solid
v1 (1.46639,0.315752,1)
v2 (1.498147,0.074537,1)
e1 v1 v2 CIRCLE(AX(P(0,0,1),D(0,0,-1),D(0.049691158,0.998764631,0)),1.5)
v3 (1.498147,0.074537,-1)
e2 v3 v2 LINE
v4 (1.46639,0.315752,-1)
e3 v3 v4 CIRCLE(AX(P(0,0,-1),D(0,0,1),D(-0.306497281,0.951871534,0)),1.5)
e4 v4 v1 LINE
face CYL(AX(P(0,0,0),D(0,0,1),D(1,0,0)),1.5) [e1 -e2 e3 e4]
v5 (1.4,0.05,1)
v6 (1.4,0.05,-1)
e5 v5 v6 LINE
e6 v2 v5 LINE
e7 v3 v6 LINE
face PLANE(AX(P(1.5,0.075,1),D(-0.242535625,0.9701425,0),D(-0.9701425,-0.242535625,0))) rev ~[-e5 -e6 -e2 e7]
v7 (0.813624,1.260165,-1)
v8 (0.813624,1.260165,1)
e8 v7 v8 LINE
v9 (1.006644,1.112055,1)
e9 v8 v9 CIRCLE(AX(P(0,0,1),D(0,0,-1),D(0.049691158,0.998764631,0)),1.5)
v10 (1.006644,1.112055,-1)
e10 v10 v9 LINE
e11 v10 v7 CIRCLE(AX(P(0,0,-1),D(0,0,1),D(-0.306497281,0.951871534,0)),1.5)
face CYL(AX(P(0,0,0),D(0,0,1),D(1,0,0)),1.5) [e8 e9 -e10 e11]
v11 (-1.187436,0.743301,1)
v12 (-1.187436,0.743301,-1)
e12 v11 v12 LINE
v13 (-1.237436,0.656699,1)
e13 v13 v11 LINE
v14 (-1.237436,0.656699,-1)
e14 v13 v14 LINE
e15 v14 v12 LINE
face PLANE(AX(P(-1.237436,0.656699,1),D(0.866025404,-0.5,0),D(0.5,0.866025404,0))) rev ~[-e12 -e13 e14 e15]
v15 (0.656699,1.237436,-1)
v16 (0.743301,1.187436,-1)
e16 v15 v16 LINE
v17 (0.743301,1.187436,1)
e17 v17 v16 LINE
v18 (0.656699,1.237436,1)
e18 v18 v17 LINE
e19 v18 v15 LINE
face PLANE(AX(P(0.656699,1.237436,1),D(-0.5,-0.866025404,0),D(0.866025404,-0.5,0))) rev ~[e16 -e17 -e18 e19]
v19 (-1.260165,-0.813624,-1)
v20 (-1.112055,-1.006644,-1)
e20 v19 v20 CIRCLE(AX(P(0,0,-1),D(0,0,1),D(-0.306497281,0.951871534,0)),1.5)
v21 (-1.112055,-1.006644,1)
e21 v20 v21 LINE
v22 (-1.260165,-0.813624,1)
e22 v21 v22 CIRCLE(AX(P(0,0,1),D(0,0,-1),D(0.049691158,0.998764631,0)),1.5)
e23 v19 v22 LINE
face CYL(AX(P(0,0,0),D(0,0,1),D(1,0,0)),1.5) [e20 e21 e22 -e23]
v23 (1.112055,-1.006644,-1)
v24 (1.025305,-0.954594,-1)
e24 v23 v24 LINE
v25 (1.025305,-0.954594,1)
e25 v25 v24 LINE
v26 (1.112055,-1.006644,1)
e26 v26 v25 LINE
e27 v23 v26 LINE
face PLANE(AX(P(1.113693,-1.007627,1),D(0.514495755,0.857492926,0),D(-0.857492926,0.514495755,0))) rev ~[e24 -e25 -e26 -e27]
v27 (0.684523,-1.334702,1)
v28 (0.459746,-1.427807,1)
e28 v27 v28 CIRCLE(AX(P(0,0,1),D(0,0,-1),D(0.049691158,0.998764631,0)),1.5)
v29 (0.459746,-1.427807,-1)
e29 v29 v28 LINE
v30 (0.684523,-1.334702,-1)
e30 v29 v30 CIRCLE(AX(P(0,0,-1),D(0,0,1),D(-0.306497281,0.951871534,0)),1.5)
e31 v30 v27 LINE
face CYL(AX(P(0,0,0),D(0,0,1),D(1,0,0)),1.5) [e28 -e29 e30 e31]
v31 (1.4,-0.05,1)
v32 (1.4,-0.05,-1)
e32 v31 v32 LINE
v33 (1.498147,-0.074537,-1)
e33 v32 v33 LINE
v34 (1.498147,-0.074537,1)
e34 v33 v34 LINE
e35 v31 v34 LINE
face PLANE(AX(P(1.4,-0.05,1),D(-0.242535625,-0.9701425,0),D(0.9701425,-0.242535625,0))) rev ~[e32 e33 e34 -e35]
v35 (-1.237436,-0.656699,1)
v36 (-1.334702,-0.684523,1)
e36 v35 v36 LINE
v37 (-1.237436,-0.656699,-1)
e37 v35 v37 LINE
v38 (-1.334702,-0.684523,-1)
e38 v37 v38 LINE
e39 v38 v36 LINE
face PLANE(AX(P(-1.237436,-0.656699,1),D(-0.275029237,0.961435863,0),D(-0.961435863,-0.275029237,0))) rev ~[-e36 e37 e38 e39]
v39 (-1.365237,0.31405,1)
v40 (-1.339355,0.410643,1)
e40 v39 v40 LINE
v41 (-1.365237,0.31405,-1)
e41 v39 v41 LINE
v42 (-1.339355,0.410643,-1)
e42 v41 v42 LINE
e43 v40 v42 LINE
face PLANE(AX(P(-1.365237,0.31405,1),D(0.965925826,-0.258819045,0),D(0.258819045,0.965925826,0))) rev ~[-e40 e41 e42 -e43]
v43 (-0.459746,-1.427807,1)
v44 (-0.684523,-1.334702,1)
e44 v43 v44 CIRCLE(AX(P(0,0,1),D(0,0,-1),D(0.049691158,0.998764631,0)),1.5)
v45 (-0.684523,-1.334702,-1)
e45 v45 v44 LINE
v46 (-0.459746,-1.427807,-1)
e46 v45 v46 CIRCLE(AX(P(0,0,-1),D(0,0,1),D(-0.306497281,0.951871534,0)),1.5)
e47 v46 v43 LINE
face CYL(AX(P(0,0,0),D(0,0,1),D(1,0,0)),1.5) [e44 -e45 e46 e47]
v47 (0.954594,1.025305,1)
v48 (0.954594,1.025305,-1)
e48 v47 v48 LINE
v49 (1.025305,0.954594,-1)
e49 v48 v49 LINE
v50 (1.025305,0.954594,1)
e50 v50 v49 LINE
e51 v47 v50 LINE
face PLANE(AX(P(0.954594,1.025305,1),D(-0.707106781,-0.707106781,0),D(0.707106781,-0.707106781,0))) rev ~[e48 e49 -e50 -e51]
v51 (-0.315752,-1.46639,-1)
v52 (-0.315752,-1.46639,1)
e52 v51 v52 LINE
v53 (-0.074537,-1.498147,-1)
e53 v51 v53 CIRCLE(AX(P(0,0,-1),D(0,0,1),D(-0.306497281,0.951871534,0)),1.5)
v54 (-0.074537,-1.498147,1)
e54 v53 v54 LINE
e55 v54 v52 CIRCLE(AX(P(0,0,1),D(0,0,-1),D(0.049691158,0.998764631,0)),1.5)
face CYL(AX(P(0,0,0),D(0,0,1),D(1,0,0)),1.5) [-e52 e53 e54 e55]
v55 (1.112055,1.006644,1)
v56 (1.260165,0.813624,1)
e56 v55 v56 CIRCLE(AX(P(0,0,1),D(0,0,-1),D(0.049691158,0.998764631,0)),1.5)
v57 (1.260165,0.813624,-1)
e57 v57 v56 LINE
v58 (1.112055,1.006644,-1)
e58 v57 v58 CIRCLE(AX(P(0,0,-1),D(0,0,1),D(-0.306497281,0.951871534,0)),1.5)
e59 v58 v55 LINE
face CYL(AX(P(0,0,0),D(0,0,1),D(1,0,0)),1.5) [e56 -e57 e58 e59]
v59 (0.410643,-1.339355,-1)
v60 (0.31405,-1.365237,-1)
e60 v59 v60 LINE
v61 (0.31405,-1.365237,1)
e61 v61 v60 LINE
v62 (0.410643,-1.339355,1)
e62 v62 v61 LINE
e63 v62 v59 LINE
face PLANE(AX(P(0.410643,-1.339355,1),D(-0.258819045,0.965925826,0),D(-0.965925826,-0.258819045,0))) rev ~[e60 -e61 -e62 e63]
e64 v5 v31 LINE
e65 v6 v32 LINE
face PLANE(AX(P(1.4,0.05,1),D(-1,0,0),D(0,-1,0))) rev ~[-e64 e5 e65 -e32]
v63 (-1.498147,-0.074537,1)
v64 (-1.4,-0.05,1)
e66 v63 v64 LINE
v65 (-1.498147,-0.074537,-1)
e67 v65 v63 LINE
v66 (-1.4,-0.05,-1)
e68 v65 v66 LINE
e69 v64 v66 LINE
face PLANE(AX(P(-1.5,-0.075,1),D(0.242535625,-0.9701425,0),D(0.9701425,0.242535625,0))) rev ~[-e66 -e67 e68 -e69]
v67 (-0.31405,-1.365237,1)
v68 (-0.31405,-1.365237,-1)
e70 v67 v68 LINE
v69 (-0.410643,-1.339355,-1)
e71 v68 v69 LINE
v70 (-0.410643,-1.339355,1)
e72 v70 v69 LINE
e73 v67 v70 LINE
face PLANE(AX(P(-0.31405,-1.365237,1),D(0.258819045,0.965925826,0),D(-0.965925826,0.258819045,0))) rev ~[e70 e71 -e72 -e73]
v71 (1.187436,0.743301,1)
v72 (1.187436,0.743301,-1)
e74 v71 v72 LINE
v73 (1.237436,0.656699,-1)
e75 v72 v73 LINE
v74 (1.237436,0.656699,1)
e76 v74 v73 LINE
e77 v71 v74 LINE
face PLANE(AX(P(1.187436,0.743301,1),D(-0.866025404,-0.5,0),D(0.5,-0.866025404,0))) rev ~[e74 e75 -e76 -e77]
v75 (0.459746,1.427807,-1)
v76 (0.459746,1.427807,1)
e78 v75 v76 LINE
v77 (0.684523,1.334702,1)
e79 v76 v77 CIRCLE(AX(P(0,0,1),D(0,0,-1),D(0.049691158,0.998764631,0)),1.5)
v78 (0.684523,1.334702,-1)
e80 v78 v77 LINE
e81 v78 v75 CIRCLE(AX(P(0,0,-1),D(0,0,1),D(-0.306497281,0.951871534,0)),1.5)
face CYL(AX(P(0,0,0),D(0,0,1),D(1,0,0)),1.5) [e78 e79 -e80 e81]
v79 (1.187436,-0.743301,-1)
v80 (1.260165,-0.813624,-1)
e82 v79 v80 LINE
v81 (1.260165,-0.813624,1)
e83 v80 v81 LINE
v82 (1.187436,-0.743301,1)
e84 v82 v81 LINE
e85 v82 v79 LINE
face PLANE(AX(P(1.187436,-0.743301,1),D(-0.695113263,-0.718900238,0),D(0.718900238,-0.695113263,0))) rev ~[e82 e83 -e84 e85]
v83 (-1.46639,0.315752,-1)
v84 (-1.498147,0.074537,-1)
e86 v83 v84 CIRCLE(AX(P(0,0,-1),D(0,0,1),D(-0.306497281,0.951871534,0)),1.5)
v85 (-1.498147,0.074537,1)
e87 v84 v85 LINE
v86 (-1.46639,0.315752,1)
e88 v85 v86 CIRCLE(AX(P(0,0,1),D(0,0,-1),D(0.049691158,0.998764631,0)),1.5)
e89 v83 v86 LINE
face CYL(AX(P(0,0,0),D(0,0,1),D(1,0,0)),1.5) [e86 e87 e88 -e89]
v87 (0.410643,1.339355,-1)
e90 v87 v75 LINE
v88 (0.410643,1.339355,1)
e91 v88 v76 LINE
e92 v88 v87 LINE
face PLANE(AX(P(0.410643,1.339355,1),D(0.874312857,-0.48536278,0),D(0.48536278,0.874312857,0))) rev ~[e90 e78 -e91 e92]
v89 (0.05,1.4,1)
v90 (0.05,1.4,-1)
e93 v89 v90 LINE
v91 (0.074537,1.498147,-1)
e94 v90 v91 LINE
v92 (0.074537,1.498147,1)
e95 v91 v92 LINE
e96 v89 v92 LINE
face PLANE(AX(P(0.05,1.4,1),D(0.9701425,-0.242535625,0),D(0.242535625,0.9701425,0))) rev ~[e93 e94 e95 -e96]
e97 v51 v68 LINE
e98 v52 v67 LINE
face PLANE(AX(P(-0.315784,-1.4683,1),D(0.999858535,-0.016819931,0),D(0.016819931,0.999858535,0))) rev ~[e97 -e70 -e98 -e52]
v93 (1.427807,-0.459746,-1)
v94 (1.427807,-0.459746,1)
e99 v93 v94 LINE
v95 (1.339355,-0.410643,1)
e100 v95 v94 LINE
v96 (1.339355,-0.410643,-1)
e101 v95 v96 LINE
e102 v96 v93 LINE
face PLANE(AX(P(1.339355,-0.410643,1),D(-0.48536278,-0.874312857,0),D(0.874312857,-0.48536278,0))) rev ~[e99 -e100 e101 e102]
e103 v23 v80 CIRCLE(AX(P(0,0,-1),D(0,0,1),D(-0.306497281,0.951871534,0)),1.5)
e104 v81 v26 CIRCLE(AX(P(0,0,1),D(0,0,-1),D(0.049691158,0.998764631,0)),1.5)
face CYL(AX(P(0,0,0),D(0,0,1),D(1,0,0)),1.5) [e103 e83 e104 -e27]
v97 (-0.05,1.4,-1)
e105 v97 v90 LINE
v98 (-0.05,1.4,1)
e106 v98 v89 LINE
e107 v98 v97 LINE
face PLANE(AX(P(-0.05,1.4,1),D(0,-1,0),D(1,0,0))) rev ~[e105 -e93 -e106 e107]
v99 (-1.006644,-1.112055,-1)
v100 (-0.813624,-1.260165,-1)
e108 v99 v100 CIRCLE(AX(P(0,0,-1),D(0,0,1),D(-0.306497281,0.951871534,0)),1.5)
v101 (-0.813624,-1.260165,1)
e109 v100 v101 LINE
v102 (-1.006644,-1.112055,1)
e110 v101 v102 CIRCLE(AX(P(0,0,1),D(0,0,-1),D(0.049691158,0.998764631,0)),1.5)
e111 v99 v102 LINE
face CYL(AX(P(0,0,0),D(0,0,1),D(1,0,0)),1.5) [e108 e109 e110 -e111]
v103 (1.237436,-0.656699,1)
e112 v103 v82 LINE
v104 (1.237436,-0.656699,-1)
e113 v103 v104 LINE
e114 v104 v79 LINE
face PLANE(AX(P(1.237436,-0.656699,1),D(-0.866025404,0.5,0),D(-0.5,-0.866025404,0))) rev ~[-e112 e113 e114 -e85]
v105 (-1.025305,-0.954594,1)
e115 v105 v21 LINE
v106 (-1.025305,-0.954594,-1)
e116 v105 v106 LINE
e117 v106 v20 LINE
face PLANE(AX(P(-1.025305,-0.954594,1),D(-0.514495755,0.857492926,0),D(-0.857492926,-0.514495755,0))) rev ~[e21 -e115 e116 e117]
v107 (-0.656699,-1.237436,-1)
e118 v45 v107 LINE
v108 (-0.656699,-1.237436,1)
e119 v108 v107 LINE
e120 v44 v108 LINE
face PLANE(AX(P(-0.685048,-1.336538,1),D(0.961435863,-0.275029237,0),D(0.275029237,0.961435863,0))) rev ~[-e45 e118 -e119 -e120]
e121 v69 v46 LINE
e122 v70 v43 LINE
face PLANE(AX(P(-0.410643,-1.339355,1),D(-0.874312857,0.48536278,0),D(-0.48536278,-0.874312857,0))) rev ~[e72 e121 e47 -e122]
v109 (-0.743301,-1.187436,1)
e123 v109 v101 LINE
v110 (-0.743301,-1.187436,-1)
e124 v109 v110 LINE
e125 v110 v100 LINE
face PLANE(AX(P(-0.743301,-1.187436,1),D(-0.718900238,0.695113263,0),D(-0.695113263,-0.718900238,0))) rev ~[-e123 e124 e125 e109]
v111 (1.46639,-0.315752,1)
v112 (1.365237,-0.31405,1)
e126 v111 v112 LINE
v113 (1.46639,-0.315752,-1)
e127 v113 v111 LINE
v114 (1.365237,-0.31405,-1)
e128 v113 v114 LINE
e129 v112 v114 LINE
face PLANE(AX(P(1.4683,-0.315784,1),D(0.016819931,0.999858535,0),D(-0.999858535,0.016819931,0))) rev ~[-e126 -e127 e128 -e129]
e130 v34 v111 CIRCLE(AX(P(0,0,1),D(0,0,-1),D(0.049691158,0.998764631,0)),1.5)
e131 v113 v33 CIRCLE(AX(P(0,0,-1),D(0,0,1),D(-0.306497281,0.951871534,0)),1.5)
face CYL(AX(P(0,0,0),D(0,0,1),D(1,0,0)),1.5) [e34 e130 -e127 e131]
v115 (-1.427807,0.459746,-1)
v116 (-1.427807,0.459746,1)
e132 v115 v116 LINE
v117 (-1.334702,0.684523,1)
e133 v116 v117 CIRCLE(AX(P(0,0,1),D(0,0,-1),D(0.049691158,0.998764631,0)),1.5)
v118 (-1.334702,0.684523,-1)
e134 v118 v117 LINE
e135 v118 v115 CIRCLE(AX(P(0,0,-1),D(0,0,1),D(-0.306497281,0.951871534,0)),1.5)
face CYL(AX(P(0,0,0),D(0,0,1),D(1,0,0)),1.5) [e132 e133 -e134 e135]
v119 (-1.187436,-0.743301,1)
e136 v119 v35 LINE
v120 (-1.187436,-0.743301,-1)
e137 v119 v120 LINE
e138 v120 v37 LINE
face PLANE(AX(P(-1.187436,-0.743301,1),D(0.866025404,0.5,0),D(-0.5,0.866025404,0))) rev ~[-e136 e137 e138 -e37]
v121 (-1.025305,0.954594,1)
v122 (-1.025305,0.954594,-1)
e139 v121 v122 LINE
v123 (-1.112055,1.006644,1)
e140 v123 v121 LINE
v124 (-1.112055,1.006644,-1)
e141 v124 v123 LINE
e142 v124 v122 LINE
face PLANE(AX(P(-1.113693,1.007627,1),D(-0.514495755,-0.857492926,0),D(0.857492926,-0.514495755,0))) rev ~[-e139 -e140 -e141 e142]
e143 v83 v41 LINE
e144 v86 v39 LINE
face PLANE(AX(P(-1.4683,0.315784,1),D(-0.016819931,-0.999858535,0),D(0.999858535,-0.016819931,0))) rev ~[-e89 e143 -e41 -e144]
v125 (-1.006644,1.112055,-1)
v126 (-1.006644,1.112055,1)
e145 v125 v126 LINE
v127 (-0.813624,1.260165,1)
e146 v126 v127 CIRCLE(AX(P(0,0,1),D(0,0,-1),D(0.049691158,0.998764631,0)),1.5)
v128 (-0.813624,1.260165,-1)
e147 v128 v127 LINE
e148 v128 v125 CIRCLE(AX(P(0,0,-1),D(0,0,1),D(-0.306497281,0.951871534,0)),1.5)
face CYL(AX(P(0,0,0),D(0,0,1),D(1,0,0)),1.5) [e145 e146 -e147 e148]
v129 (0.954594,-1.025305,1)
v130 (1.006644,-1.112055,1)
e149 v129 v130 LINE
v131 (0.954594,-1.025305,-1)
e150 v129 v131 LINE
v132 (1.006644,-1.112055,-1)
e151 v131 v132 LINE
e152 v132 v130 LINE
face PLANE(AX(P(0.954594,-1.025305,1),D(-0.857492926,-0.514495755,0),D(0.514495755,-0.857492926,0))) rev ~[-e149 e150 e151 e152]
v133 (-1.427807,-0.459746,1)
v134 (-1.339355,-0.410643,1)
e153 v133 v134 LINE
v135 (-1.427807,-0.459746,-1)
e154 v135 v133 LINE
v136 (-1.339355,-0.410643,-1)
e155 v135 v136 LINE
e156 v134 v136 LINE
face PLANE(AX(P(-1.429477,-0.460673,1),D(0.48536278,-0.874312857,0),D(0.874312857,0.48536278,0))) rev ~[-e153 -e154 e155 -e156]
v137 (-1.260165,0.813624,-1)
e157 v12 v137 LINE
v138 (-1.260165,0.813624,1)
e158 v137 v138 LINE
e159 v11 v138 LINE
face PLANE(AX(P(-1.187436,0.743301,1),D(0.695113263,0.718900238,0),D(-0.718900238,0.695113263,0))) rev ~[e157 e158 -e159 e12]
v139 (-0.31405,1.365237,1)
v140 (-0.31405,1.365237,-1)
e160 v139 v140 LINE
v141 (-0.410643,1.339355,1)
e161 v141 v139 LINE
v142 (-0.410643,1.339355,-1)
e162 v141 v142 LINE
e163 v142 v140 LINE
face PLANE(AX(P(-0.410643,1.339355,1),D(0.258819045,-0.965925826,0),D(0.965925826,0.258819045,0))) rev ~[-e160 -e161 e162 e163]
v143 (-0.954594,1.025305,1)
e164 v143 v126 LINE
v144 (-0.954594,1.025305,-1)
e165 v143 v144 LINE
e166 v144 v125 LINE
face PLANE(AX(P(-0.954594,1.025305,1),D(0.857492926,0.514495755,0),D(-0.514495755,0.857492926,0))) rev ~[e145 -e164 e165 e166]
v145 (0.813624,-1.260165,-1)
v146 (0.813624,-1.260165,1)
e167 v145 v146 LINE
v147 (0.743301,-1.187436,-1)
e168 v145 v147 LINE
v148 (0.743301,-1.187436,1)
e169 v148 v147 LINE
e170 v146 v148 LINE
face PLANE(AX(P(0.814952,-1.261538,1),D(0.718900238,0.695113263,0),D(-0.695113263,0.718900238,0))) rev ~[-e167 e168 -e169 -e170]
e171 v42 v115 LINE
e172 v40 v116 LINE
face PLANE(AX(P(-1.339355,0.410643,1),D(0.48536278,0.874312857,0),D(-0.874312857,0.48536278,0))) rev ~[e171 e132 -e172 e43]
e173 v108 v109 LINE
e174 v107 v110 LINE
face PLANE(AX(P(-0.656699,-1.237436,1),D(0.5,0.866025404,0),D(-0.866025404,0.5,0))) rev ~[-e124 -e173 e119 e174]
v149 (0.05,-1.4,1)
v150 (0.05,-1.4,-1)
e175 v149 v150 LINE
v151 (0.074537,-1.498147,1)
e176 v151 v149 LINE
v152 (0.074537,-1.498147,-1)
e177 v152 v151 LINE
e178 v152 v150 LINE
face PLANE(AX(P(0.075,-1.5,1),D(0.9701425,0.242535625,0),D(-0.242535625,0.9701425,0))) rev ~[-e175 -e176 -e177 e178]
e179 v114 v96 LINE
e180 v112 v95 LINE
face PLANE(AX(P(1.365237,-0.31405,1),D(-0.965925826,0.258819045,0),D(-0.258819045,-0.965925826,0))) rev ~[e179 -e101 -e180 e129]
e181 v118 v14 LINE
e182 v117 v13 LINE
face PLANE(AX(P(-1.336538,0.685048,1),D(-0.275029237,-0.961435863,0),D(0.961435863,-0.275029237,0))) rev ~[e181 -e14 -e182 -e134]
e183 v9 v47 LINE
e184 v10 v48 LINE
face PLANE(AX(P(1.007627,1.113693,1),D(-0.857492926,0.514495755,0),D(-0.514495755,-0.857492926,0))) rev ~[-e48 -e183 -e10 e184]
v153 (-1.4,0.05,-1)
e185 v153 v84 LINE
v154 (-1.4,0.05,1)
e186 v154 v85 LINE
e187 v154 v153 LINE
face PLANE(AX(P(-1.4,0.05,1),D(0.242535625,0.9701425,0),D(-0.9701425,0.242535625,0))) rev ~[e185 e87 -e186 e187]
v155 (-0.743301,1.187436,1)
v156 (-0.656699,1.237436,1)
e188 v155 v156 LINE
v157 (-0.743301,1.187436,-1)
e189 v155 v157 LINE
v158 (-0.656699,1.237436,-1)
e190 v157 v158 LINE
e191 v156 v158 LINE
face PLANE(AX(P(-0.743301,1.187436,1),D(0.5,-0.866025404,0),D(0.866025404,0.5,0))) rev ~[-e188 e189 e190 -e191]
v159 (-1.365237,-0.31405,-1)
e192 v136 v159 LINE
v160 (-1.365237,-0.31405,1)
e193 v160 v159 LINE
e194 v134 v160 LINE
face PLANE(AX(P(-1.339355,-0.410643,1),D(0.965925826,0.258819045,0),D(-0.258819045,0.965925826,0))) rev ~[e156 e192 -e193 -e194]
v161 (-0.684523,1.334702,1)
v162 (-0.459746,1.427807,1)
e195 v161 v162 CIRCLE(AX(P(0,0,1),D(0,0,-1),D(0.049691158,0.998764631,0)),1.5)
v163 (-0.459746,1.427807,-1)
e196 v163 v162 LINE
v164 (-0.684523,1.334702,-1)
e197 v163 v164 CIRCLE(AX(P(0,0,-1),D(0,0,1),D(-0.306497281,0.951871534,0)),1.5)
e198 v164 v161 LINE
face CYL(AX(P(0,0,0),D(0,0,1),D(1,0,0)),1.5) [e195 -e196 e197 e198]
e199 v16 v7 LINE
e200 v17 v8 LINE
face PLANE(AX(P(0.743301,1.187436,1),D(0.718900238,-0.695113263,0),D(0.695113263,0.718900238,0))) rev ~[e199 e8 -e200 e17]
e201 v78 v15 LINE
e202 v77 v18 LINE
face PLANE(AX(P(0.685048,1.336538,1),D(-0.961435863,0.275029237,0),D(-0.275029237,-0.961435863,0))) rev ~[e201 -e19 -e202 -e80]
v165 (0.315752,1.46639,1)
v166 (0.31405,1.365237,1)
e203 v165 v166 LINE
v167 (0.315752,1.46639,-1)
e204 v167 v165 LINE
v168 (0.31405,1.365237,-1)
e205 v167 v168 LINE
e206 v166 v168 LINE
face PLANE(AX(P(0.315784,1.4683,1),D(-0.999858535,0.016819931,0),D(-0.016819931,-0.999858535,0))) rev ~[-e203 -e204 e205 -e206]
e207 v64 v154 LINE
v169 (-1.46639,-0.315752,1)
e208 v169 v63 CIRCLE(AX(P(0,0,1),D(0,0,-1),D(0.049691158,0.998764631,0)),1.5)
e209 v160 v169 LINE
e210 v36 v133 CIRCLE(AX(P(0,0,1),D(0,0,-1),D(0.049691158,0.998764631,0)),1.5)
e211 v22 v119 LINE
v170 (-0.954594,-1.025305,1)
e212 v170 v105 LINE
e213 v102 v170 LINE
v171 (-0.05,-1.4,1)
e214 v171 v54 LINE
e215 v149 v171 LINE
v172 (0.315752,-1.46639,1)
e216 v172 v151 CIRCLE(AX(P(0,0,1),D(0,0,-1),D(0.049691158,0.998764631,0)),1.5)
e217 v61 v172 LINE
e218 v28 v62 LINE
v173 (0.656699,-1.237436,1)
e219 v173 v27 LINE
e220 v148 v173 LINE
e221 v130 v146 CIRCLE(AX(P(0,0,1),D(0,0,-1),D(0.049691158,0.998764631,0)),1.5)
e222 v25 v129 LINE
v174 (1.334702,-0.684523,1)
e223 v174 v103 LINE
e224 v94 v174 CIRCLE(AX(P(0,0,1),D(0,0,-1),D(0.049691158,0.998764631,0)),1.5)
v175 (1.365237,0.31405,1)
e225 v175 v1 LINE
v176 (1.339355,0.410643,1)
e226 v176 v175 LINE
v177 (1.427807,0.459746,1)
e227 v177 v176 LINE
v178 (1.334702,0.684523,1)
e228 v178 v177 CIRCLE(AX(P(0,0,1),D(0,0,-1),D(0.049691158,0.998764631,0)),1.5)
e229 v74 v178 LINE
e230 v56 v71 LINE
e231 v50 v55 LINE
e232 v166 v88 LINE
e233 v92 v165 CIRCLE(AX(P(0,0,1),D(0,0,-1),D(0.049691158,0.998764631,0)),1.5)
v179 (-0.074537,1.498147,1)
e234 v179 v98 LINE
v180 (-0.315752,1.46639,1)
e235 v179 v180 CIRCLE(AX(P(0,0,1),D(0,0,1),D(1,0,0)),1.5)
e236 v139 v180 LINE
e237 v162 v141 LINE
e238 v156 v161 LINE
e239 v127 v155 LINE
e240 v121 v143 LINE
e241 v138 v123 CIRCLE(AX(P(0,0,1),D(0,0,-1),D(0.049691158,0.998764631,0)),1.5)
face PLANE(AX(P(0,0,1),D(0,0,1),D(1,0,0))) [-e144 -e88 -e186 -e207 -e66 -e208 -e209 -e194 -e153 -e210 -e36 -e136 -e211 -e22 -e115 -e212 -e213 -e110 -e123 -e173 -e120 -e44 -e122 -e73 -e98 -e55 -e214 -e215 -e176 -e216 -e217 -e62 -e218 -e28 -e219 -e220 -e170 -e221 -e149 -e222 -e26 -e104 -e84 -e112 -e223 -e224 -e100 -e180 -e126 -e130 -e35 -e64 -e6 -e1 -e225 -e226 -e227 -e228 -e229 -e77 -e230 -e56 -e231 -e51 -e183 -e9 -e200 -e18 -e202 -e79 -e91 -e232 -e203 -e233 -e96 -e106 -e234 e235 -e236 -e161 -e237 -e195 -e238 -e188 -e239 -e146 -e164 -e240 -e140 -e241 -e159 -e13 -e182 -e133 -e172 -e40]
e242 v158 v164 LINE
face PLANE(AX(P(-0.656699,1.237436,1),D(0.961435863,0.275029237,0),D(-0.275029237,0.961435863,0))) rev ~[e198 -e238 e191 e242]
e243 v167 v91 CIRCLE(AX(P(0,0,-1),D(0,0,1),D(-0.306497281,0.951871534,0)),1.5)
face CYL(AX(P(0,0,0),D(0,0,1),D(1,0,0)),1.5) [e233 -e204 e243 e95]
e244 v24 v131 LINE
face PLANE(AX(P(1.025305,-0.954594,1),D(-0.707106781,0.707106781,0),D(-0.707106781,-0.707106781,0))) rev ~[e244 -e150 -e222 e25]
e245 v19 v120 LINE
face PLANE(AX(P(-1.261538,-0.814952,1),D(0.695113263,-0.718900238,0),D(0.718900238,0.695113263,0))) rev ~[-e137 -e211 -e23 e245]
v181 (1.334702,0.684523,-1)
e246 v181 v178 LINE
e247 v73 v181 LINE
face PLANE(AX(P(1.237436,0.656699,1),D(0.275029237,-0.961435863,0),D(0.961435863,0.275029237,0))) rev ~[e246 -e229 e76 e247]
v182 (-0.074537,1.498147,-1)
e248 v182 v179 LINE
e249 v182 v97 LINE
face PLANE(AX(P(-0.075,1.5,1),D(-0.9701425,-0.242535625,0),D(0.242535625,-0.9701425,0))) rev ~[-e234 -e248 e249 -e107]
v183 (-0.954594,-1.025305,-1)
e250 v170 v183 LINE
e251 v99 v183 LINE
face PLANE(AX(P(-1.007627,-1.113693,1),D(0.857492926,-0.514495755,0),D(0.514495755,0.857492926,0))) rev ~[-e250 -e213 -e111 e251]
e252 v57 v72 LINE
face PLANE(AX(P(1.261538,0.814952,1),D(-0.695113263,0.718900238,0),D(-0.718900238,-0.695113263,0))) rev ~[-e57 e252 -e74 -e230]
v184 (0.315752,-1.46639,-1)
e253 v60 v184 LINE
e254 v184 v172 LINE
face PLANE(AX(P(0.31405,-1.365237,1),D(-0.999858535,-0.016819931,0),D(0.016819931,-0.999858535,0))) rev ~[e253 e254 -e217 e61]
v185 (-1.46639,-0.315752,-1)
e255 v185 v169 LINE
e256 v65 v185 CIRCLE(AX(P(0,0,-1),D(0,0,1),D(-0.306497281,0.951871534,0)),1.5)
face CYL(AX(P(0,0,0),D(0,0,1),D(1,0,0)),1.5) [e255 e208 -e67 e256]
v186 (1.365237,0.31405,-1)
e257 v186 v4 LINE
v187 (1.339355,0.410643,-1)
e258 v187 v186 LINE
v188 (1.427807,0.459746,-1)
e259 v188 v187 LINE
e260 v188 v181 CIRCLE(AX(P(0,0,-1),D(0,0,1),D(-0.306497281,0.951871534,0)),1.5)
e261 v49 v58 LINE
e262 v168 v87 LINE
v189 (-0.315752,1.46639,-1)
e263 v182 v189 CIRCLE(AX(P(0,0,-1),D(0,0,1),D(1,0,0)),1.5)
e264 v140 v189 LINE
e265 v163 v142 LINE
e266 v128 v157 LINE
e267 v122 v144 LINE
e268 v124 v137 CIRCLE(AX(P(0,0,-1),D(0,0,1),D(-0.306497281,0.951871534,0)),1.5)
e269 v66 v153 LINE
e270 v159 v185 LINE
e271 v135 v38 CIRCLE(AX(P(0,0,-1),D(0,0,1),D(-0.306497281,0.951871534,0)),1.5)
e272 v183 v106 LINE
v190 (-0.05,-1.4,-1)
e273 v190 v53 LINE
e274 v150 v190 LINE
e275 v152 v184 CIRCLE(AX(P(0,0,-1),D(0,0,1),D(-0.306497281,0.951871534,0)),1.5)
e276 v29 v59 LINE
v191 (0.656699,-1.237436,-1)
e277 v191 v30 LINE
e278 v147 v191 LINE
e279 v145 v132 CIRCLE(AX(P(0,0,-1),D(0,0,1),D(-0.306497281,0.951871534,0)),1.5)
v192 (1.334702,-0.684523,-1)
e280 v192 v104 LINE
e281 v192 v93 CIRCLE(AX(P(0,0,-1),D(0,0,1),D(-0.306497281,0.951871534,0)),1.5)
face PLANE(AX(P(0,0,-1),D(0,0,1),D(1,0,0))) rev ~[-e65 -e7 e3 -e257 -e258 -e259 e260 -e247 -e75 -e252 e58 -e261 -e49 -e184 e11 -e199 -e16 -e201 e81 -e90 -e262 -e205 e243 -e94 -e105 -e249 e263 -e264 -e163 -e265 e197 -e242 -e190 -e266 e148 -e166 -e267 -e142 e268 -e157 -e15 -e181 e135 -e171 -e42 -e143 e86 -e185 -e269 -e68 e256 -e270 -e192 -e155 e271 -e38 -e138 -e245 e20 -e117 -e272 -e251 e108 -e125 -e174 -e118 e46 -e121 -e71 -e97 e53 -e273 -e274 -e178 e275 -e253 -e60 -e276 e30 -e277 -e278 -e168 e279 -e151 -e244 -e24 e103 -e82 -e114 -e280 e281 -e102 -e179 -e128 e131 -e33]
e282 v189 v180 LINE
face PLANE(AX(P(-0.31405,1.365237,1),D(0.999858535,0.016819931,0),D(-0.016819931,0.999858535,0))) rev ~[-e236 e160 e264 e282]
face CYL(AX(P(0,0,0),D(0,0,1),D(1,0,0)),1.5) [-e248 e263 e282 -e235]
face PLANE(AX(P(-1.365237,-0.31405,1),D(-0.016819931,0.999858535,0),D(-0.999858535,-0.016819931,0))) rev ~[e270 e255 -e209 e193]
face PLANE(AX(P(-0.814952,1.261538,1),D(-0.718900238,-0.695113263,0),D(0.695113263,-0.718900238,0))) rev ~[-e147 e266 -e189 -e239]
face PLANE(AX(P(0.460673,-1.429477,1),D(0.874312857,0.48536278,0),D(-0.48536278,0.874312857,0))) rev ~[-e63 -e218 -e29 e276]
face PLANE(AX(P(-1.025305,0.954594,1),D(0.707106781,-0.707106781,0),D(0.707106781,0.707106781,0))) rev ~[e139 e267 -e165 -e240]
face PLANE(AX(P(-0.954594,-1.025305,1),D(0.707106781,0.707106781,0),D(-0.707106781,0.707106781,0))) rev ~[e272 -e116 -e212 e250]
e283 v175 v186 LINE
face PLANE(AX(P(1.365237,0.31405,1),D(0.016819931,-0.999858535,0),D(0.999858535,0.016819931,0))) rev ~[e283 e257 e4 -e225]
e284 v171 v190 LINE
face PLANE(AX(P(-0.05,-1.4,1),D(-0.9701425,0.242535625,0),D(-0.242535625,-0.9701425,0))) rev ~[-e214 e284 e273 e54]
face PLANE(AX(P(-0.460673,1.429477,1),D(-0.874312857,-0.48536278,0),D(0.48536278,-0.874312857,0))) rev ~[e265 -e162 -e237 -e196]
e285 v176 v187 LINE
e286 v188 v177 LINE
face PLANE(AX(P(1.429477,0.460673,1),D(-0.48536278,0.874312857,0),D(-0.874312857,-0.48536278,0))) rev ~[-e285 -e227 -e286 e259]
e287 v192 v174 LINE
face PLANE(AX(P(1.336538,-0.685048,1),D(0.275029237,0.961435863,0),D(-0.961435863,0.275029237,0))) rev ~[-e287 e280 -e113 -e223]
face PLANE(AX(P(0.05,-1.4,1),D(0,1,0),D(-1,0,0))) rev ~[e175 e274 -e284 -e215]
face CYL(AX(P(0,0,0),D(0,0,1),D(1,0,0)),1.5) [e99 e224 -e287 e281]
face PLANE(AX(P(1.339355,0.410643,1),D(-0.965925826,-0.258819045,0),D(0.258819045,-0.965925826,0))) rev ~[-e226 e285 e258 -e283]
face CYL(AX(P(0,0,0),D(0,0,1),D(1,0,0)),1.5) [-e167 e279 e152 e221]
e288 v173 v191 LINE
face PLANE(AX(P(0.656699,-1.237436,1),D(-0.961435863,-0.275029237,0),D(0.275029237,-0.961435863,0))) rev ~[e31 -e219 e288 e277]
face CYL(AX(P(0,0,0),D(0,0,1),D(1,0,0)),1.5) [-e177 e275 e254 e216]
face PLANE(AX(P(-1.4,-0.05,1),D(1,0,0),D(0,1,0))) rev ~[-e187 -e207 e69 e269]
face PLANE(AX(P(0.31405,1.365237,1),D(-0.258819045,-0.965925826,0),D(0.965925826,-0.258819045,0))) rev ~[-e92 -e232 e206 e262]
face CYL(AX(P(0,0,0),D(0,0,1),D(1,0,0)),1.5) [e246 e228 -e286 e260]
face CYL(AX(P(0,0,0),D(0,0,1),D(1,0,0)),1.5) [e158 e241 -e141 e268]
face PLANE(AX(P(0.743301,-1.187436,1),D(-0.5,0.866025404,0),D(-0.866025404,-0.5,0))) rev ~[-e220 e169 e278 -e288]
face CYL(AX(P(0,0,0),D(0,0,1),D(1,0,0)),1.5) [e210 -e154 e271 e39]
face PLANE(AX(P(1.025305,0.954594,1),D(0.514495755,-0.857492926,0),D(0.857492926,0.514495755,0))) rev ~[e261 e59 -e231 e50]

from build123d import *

# Parameters (mm, degrees)
SKETCH_1_R               = 1.5
EXTRUDE_1_DEPTH          = 1
CUT_EXTRUDE_1_DEPTH      = 4
PATTERN_CIRCULAR_1_COUNT = 24


with BuildPart() as part:
    # 草图1 → 凸台-拉伸1 (new, symmetric)
    with BuildSketch(Plane.XY):
        Circle(SKETCH_1_R)
    extrude(amount=EXTRUDE_1_DEPTH, both=True)

    # 草图2 → 切除-拉伸1 (cut)
    with BuildSketch(Plane.XY.offset(1)):
        Polygon((-0.075, 1.5), (-0.05, 1.4), (0.05, 1.4), (0.075, 1.5), align=None)
    cut_extrude_1 = extrude(amount=-CUT_EXTRUDE_1_DEPTH, mode=Mode.SUBTRACT)

    # 阵列(圆周)1: 切除-拉伸1 ×24 about axis
    pattern_circular_1_axis = Axis((0, 0, 0), (0, 0, 1))
    for i in range(1, PATTERN_CIRCULAR_1_COUNT):
        add(cut_extrude_1.rotate(pattern_circular_1_axis, i * 360 / PATTERN_CIRCULAR_1_COUNT), mode=Mode.SUBTRACT)


solid = part.part
